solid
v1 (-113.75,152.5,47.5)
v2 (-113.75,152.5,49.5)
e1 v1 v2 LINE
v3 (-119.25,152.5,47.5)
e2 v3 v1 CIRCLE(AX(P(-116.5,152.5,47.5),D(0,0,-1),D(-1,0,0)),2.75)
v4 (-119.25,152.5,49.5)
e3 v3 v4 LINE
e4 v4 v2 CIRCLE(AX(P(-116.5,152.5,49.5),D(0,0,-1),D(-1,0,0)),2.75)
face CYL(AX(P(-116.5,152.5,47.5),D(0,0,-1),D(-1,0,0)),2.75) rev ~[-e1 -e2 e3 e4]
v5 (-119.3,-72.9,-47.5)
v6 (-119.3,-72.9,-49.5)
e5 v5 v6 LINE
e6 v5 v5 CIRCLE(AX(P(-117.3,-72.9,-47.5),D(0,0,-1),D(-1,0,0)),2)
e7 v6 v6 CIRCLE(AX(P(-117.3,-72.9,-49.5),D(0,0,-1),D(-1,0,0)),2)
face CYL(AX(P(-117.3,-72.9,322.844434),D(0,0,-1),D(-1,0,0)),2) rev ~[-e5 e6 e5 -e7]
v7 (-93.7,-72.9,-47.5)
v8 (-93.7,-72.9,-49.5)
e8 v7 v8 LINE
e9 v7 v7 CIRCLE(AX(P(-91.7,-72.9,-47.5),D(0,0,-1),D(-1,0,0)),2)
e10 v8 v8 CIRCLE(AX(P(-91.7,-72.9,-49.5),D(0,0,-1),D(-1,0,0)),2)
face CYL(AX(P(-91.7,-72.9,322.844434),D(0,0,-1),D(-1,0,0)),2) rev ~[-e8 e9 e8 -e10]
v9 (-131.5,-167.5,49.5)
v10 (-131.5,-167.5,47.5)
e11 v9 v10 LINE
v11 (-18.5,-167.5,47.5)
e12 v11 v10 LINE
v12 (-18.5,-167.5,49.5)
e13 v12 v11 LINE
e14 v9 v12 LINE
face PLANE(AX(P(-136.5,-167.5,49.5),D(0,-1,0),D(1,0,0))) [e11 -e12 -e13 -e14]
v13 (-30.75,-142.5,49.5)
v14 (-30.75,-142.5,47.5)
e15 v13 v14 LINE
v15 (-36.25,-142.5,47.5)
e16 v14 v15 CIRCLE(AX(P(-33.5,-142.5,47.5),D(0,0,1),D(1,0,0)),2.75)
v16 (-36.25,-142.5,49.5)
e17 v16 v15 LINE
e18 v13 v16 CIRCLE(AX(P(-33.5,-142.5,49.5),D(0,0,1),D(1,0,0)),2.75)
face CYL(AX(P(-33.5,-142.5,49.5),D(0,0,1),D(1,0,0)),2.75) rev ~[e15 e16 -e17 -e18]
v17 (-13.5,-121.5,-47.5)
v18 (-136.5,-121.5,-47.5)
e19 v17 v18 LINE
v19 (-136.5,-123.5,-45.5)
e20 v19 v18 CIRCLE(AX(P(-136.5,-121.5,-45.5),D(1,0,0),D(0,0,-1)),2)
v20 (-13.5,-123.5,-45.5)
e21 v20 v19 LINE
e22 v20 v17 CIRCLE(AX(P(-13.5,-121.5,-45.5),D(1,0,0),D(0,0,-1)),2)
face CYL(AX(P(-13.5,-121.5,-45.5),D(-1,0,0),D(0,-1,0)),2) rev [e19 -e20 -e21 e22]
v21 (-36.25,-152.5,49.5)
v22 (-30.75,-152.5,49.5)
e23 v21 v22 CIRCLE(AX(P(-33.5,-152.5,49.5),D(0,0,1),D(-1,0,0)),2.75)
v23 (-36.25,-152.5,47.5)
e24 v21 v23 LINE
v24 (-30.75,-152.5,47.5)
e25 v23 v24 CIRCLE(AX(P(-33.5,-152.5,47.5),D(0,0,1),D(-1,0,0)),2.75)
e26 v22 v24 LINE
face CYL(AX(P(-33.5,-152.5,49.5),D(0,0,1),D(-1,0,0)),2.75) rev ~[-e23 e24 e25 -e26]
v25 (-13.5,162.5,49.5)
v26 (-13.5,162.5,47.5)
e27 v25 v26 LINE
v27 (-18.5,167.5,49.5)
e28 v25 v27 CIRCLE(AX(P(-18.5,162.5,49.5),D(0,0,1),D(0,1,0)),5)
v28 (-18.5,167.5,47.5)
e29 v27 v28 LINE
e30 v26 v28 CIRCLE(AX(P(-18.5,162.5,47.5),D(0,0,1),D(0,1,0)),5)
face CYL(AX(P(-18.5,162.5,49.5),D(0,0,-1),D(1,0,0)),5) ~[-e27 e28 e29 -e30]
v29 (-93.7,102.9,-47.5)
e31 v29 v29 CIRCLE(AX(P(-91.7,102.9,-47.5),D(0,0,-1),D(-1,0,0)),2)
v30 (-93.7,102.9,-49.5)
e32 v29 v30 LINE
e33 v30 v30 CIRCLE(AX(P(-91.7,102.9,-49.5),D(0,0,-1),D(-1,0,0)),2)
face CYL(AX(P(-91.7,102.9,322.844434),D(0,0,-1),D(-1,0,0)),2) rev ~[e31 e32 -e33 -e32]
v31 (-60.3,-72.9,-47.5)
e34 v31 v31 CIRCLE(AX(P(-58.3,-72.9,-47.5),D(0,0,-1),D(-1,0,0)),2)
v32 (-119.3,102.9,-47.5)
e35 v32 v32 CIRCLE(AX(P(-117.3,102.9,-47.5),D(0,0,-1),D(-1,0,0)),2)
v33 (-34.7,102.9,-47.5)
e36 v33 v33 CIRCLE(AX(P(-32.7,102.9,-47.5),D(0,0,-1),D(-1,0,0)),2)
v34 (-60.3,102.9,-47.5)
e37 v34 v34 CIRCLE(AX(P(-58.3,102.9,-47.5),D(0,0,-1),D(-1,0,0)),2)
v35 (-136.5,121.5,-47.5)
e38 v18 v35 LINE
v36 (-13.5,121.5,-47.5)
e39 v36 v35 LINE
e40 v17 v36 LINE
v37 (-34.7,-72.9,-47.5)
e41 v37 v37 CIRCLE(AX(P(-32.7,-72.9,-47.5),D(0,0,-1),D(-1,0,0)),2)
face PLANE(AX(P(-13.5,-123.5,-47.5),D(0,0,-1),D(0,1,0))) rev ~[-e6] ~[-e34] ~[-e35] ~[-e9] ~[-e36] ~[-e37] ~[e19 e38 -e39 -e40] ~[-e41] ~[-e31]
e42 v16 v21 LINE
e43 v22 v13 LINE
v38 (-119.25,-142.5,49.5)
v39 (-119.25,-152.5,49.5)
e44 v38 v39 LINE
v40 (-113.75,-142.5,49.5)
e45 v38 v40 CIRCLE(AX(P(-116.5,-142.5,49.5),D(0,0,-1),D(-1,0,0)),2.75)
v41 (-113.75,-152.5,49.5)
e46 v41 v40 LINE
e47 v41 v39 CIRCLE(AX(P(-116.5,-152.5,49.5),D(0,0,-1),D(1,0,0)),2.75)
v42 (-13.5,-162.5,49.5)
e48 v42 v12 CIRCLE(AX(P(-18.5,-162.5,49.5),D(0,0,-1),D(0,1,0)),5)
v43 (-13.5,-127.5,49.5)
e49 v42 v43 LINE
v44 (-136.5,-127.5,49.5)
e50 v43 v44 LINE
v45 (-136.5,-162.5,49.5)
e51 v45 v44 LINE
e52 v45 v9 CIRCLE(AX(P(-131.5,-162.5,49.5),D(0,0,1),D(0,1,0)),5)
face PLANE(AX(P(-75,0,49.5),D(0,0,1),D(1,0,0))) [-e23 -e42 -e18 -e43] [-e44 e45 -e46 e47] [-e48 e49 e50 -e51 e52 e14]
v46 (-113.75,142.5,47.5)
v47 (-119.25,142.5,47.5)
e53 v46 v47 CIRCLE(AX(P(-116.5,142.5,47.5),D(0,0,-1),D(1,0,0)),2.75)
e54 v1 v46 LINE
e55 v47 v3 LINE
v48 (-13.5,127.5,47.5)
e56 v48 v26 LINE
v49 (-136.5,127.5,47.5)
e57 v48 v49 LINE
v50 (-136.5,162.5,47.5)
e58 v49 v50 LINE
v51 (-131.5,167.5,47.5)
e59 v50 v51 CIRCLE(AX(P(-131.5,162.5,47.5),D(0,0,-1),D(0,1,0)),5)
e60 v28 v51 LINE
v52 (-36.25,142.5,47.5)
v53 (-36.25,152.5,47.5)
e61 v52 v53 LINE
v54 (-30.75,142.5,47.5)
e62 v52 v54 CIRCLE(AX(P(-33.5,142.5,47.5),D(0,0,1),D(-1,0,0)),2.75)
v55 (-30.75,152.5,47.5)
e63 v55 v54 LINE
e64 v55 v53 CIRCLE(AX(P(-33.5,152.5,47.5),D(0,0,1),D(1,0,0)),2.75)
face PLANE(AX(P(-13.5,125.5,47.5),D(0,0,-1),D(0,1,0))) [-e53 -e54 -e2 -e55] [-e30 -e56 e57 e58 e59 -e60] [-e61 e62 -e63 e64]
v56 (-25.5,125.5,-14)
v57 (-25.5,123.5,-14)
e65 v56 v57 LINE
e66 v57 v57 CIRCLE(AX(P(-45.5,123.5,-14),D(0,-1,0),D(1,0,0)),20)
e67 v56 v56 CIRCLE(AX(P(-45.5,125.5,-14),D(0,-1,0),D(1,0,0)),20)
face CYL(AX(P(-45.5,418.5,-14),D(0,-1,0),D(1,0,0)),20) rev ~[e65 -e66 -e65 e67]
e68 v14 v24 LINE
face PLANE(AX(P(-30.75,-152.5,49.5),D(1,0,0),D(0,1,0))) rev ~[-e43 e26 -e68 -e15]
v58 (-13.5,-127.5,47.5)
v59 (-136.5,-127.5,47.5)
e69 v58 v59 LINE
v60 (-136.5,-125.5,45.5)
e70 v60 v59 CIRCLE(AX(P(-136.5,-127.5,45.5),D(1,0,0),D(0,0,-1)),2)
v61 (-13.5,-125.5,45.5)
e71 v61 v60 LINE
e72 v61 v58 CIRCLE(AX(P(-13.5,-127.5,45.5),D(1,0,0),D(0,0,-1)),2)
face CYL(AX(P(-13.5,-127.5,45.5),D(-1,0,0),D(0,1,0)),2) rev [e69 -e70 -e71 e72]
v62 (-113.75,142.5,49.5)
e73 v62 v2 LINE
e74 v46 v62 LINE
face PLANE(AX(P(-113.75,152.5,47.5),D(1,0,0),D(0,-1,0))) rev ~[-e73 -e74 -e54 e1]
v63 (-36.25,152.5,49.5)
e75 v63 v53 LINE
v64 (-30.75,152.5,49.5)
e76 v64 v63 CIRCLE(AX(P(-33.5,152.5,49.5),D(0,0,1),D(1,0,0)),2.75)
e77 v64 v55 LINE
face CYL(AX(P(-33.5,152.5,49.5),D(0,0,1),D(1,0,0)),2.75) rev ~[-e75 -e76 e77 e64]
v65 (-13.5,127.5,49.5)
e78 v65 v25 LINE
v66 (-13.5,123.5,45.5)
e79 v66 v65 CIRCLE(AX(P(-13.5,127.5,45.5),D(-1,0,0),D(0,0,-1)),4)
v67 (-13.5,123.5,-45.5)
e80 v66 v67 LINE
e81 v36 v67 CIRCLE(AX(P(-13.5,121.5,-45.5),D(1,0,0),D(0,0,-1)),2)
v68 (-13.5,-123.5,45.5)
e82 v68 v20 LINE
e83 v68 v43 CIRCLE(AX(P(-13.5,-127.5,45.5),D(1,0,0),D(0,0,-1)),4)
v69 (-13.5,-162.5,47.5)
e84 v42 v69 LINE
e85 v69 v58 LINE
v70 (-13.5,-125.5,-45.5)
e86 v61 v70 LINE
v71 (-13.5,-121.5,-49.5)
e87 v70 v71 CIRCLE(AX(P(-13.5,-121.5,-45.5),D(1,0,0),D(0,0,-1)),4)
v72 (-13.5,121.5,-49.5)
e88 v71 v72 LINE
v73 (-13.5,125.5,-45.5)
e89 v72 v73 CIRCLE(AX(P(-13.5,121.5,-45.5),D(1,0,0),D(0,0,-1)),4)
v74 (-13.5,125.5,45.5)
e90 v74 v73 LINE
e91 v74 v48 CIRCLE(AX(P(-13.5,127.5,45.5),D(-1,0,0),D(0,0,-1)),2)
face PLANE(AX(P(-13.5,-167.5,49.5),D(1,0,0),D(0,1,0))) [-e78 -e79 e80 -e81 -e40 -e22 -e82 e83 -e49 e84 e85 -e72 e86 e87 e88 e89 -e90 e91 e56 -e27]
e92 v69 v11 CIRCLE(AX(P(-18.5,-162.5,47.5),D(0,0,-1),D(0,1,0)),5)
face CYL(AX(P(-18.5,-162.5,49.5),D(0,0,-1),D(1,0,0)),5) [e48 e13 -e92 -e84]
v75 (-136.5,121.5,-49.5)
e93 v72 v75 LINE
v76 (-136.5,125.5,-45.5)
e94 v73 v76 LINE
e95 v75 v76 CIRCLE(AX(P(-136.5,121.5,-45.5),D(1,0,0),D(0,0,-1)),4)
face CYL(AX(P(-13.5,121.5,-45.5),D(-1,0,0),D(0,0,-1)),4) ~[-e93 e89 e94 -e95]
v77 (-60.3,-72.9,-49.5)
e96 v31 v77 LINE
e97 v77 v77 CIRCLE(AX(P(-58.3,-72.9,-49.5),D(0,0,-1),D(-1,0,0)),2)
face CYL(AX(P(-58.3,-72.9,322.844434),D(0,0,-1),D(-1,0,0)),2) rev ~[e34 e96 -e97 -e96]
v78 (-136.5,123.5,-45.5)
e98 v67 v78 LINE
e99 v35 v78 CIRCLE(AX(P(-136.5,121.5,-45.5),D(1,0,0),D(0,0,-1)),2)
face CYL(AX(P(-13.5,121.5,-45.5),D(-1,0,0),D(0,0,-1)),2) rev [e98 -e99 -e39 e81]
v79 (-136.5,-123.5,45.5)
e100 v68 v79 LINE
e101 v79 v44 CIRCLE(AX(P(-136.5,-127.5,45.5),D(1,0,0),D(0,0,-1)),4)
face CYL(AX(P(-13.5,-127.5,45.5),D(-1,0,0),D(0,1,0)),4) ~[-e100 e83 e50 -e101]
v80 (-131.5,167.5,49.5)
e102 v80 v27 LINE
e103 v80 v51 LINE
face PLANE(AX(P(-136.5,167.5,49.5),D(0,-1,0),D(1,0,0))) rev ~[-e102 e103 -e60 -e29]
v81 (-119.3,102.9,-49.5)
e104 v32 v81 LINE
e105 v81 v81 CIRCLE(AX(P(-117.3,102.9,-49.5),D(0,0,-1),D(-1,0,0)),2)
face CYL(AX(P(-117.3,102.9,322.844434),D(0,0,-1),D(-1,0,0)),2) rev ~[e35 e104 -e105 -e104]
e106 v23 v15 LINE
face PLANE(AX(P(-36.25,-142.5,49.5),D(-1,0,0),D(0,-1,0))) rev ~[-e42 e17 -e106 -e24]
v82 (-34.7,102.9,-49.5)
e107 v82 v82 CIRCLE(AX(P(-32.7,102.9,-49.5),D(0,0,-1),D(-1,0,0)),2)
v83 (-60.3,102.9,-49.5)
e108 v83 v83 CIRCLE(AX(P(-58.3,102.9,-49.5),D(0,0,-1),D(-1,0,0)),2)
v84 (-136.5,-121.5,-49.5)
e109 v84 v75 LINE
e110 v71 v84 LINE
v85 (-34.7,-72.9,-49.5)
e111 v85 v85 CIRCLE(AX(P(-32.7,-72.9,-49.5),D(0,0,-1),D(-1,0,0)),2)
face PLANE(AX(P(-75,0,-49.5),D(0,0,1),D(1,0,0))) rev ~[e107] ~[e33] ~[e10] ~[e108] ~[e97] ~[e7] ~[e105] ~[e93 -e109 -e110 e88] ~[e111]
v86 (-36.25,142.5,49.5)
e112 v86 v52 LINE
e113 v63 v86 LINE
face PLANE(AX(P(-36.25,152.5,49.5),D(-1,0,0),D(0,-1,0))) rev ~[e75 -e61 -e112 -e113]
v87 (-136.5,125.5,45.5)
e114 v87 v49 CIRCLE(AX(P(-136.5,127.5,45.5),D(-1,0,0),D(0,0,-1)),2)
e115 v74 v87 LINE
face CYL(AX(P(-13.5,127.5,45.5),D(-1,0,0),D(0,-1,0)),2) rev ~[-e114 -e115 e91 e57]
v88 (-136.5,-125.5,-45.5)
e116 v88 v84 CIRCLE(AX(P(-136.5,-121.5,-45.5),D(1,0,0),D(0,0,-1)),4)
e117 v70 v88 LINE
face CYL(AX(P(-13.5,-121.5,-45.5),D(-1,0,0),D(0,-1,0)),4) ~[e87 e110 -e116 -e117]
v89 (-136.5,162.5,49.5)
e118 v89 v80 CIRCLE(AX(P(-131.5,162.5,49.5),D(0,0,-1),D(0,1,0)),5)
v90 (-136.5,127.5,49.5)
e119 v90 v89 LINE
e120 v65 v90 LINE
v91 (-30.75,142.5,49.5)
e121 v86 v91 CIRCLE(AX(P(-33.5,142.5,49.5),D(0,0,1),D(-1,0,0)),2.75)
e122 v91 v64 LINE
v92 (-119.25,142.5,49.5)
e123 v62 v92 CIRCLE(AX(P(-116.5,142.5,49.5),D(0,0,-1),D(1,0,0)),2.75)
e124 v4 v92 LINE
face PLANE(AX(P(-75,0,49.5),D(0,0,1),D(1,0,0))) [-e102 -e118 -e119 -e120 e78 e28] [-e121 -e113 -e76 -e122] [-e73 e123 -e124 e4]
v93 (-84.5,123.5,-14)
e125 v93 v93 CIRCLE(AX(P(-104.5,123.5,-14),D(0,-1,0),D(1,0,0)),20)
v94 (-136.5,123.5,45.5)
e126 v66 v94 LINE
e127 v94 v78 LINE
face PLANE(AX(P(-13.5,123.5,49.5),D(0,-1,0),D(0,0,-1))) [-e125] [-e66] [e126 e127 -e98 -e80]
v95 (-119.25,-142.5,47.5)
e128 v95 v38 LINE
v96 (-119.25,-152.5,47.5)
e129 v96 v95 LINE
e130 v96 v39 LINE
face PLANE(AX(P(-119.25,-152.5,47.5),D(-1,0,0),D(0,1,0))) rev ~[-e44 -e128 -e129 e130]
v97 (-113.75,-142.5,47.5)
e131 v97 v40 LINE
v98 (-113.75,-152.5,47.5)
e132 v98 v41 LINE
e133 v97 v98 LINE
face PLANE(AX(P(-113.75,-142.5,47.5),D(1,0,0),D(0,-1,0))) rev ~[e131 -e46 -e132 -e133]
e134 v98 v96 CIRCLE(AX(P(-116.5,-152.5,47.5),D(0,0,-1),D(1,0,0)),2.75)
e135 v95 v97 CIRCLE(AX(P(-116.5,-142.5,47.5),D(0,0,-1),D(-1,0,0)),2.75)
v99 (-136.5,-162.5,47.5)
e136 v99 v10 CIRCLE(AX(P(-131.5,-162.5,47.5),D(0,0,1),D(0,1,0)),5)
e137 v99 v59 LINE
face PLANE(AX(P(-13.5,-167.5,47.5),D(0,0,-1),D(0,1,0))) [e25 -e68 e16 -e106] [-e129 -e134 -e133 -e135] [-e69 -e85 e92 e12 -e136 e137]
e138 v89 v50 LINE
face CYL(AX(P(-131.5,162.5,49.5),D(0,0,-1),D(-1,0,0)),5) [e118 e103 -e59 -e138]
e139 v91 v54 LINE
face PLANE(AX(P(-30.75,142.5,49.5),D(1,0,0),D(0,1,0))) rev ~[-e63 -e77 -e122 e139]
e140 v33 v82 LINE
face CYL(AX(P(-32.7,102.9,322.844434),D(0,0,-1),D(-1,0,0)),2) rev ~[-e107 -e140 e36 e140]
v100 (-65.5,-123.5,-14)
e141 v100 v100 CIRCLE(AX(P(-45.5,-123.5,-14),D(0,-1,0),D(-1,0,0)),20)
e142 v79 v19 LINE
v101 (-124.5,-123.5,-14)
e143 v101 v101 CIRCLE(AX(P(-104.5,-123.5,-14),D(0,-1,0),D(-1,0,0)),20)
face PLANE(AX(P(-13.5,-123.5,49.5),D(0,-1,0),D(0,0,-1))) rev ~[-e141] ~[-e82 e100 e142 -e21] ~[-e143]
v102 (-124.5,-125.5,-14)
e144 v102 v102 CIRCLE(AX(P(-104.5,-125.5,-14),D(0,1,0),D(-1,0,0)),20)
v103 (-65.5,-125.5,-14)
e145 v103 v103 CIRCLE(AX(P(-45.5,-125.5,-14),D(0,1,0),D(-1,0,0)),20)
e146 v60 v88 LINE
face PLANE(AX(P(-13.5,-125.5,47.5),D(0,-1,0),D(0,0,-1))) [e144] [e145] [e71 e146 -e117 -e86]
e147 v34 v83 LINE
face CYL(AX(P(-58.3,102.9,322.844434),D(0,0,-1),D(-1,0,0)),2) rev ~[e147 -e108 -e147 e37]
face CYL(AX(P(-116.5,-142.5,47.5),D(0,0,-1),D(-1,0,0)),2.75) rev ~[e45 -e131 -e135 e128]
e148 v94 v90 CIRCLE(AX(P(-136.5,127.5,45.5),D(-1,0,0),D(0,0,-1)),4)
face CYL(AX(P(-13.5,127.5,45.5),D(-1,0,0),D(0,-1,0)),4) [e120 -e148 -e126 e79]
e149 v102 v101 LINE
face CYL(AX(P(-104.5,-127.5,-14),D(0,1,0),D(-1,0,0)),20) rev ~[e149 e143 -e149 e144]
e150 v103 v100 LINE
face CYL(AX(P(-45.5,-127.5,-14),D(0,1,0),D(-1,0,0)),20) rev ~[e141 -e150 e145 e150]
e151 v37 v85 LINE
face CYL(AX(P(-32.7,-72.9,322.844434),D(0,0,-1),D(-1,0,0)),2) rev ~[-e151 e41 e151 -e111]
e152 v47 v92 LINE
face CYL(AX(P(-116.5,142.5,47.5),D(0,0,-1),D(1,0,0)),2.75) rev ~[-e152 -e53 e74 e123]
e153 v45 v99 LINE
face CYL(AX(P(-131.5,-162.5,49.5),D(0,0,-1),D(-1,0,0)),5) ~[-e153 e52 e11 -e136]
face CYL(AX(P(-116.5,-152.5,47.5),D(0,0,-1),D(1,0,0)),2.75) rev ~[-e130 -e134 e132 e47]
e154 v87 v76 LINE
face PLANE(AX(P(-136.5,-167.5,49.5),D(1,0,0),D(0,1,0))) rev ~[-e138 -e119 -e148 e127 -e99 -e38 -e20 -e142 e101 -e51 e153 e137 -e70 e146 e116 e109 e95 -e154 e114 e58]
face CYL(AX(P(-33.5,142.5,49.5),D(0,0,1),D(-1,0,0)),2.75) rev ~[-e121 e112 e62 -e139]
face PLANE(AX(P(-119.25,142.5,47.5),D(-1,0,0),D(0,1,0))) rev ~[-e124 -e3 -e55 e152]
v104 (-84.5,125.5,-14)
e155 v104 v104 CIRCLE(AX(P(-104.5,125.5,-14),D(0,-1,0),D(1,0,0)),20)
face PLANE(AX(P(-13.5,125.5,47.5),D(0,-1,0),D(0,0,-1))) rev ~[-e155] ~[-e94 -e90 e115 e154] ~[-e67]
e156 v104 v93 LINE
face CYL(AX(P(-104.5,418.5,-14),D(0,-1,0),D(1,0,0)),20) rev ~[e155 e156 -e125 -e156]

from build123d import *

# Parameters (mm, degrees)
SKETCH_1_W           = 123
SKETCH_1_H           = 335
EXTRUDE_1_DEPTH      = 99
SKETCH_2_W           = 97
SKETCH_2_H           = 247
CUT_EXTRUDE_1_DEPTH  = 214.62467086
SKETCH_3_W           = 97
SKETCH_3_H           = 42
CUT_EXTRUDE_2_DEPTH  = 214.62467086
SKETCH_4_W           = 97
SKETCH_4_H           = 42
CUT_EXTRUDE_3_DEPTH  = 214.62467086
CUT_EXTRUDE_4_DEPTH  = 238.675198538
CUT_EXTRUDE_5_DEPTH  = 237.849108084
CUT_EXTRUDE_6_DEPTH  = 238.675198538
CUT_EXTRUDE_7_DEPTH  = 237.849108084
HOLE_WIZARD_M4_1_D   = 4
HOLE_WIZARD_M4_2_D   = 4
HOLE_WIZARD_M4_3_D   = 4
HOLE_WIZARD_M4_4_D   = 4
HOLE_WIZARD_M4_5_D   = 4
HOLE_WIZARD_M4_6_D   = 4
HOLE_WIZARD_M4_7_D   = 4
HOLE_WIZARD_M4_8_D   = 4
HOLE_WIZARD_9_D      = 40
HOLE_WIZARD_9_DEPTH  = 2
HOLE_WIZARD_10_D     = 40
HOLE_WIZARD_10_DEPTH = 2
HOLE_WIZARD_11_D     = 40
HOLE_WIZARD_11_DEPTH = 293
HOLE_WIZARD_12_D     = 40
HOLE_WIZARD_12_DEPTH = 293
FILLET_1_R           = 2
FILLET_2_R           = 2
FILLET_3_R           = 2
FILLET_4_R           = 2
FILLET_5_R           = 4
FILLET_6_R           = 4
FILLET_7_R           = 4
FILLET_8_R           = 4
FILLET_9_R           = 5
FILLET_10_R          = 5
FILLET_11_R          = 5
FILLET_12_R          = 5


with BuildPart() as part:
    # 草图1 → 凸台-拉伸1 (new body)
    with BuildSketch(Plane.XY.offset(49.5)):
        with Locations((-75, 0)):
            Rectangle(SKETCH_1_W, SKETCH_1_H)
    extrude(amount=-EXTRUDE_1_DEPTH)

    # 草图2 → 切除-拉伸1 (cut, through all)
    with BuildSketch(Plane(origin=(-13.5, 0, 0), x_dir=(0, 0, -1), z_dir=(1, 0, 0))):
        with Locations((-1, 0)):
            Rectangle(SKETCH_2_W, SKETCH_2_H)
    extrude(amount=-CUT_EXTRUDE_1_DEPTH, mode=Mode.SUBTRACT)

    # 草图3 → 切除-拉伸2 (cut, through all)
    with BuildSketch(Plane(origin=(-13.5, 0, 0), x_dir=(0, 0, -1), z_dir=(1, 0, 0))):
        with Locations((1, 146.5)):
            Rectangle(SKETCH_3_W, SKETCH_3_H)
    extrude(amount=-CUT_EXTRUDE_2_DEPTH, mode=Mode.SUBTRACT)

    # 草图4 → 切除-拉伸3 (cut, through all)
    with BuildSketch(Plane(origin=(-13.5, 0, 0), x_dir=(0, 0, -1), z_dir=(1, 0, 0))):
        with Locations((1, -146.5)):
            Rectangle(SKETCH_4_W, SKETCH_4_H)
    extrude(amount=-CUT_EXTRUDE_3_DEPTH, mode=Mode.SUBTRACT)

    # 草图5 → 切除-拉伸4 (cut, through all)
    with BuildSketch(Plane.XY.offset(49.5)):
        with BuildLine():
            Line((-30.75, 142.5), (-30.75, 152.5))
            ThreePointArc((-30.75, 152.5), (-33.5, 155.25), (-36.25, 152.5))
            Line((-36.25, 152.5), (-36.25, 142.5))
            ThreePointArc((-36.25, 142.5), (-33.5, 139.75), (-30.75, 142.5))
        make_face()
    extrude(amount=-CUT_EXTRUDE_4_DEPTH, mode=Mode.SUBTRACT)

    # 草图6 → 切除-拉伸5 (cut, through all)
    with BuildSketch(Plane(origin=(0, 0, 47.5), x_dir=(-1, 0, 0), z_dir=(0, 0, -1))):
        with BuildLine():
            Line((113.75, 152.5), (113.75, 142.5))
            ThreePointArc((113.75, 142.5), (116.5, 139.75), (119.25, 142.5))
            Line((119.25, 142.5), (119.25, 152.5))
            ThreePointArc((119.25, 152.5), (116.5, 155.25), (113.75, 152.5))
        make_face()
    extrude(amount=-CUT_EXTRUDE_5_DEPTH, mode=Mode.SUBTRACT)

    # 草图7 → 切除-拉伸6 (cut, through all)
    with BuildSketch(Plane.XY.offset(49.5)):
        with BuildLine():
            Line((-30.75, -152.5), (-30.75, -142.5))
            ThreePointArc((-30.75, -142.5), (-33.5, -139.75), (-36.25, -142.5))
            Line((-36.25, -142.5), (-36.25, -152.5))
            ThreePointArc((-36.25, -152.5), (-33.5, -155.25), (-30.75, -152.5))
        make_face()
    extrude(amount=-CUT_EXTRUDE_6_DEPTH, mode=Mode.SUBTRACT)

    # 草图8 → 切除-拉伸7 (cut, through all)
    with BuildSketch(Plane(origin=(0, 0, 47.5), x_dir=(-1, 0, 0), z_dir=(0, 0, -1))):
        with BuildLine():
            Line((113.75, -142.5), (113.75, -152.5))
            ThreePointArc((113.75, -152.5), (116.5, -155.25), (119.25, -152.5))
            Line((119.25, -152.5), (119.25, -142.5))
            ThreePointArc((119.25, -142.5), (116.5, -139.75), (113.75, -142.5))
        make_face()
    extrude(amount=-CUT_EXTRUDE_7_DEPTH, mode=Mode.SUBTRACT)

    # M4 螺纹孔1 (through all)
    with Locations(Plane.XY.offset(-47.5)):
        with Locations((-117.3, -72.9)):
            Hole(HOLE_WIZARD_M4_1_D / 2)

    # M4 螺纹孔2 (through all)
    with Locations(Plane.XY.offset(-47.5)):
        with Locations((-91.7, -72.9)):
            Hole(HOLE_WIZARD_M4_2_D / 2)

    # M4 螺纹孔3 (through all)
    with Locations(Plane.XY.offset(-47.5)):
        with Locations((-32.7, -72.9)):
            Hole(HOLE_WIZARD_M4_3_D / 2)

    # M4 螺纹孔4 (through all)
    with Locations(Plane.XY.offset(-47.5)):
        with Locations((-58.3, -72.9)):
            Hole(HOLE_WIZARD_M4_4_D / 2)

    # M4 螺纹孔5 (through all)
    with Locations(Plane.XY.offset(-47.5)):
        with Locations((-91.7, 102.9)):
            Hole(HOLE_WIZARD_M4_5_D / 2)

    # M4 螺纹孔6 (through all)
    with Locations(Plane.XY.offset(-47.5)):
        with Locations((-117.3, 102.9)):
            Hole(HOLE_WIZARD_M4_6_D / 2)

    # M4 螺纹孔7 (through all)
    with Locations(Plane.XY.offset(-47.5)):
        with Locations((-32.7, 102.9)):
            Hole(HOLE_WIZARD_M4_7_D / 2)

    # M4 螺纹孔8 (through all)
    with Locations(Plane.XY.offset(-47.5)):
        with Locations((-58.3, 102.9)):
            Hole(HOLE_WIZARD_M4_8_D / 2)

    # 孔9
    with Locations(Plane.XZ.offset(125.5)):
        with Locations((-45.5, -14)):
            Hole(HOLE_WIZARD_9_D / 2, depth=HOLE_WIZARD_9_DEPTH)

    # 孔10
    with Locations(Plane.XZ.offset(125.5)):
        with Locations((-104.5, -14)):
            Hole(HOLE_WIZARD_10_D / 2, depth=HOLE_WIZARD_10_DEPTH)

    # 孔11
    with Locations(Plane(origin=(0, 125.5, 0), x_dir=(-1, 0, 0), z_dir=(0, 1, 0))):
        with Locations((104.5, -14)):
            Hole(HOLE_WIZARD_11_D / 2, depth=HOLE_WIZARD_11_DEPTH)

    # 孔12
    with Locations(Plane(origin=(0, 125.5, 0), x_dir=(-1, 0, 0), z_dir=(0, 1, 0))):
        with Locations((45.5, -14)):
            Hole(HOLE_WIZARD_12_D / 2, depth=HOLE_WIZARD_12_DEPTH)

    # 圆角1
    fillet_1_edges = [part.edges().sort_by_distance(p)[0] for p in [
        (-75, 125.5, 47.5),
    ]]
    fillet(fillet_1_edges, radius=FILLET_1_R)

    # 圆角2
    fillet_2_edges = [part.edges().sort_by_distance(p)[0] for p in [
        (-75, -125.5, 47.5),
    ]]
    fillet(fillet_2_edges, radius=FILLET_2_R)

    # 圆角3
    fillet_3_edges = [part.edges().sort_by_distance(p)[0] for p in [
        (-75, -123.5, -47.5),
    ]]
    fillet(fillet_3_edges, radius=FILLET_3_R)

    # 圆角4
    fillet_4_edges = [part.edges().sort_by_distance(p)[0] for p in [
        (-75, 123.5, -47.5),
    ]]
    fillet(fillet_4_edges, radius=FILLET_4_R)

    # 圆角5
    fillet_5_edges = [part.edges().sort_by_distance(p)[0] for p in [
        (-75, 123.5, 49.5),
    ]]
    fillet(fillet_5_edges, radius=FILLET_5_R)

    # 圆角6
    fillet_6_edges = [part.edges().sort_by_distance(p)[0] for p in [
        (-75, -123.5, 49.5),
    ]]
    fillet(fillet_6_edges, radius=FILLET_6_R)

    # 圆角7
    fillet_7_edges = [part.edges().sort_by_distance(p)[0] for p in [
        (-75, -125.5, -49.5),
    ]]
    fillet(fillet_7_edges, radius=FILLET_7_R)

    # 圆角8
    fillet_8_edges = [part.edges().sort_by_distance(p)[0] for p in [
        (-75, 125.5, -49.5),
    ]]
    fillet(fillet_8_edges, radius=FILLET_8_R)

    # 圆角9
    fillet_9_edges = [part.edges().sort_by_distance(p)[0] for p in [
        (-136.5, -167.5, 48.5),
    ]]
    fillet(fillet_9_edges, radius=FILLET_9_R)

    # 圆角10
    fillet_10_edges = [part.edges().sort_by_distance(p)[0] for p in [
        (-136.5, 167.5, 48.5),
    ]]
    fillet(fillet_10_edges, radius=FILLET_10_R)

    # 圆角11
    fillet_11_edges = [part.edges().sort_by_distance(p)[0] for p in [
        (-13.5, -167.5, 48.5),
    ]]
    fillet(fillet_11_edges, radius=FILLET_11_R)

    # 圆角12
    fillet_12_edges = [part.edges().sort_by_distance(p)[0] for p in [
        (-13.5, 167.5, 48.5),
    ]]
    fillet(fillet_12_edges, radius=FILLET_12_R)


solid = part.part
